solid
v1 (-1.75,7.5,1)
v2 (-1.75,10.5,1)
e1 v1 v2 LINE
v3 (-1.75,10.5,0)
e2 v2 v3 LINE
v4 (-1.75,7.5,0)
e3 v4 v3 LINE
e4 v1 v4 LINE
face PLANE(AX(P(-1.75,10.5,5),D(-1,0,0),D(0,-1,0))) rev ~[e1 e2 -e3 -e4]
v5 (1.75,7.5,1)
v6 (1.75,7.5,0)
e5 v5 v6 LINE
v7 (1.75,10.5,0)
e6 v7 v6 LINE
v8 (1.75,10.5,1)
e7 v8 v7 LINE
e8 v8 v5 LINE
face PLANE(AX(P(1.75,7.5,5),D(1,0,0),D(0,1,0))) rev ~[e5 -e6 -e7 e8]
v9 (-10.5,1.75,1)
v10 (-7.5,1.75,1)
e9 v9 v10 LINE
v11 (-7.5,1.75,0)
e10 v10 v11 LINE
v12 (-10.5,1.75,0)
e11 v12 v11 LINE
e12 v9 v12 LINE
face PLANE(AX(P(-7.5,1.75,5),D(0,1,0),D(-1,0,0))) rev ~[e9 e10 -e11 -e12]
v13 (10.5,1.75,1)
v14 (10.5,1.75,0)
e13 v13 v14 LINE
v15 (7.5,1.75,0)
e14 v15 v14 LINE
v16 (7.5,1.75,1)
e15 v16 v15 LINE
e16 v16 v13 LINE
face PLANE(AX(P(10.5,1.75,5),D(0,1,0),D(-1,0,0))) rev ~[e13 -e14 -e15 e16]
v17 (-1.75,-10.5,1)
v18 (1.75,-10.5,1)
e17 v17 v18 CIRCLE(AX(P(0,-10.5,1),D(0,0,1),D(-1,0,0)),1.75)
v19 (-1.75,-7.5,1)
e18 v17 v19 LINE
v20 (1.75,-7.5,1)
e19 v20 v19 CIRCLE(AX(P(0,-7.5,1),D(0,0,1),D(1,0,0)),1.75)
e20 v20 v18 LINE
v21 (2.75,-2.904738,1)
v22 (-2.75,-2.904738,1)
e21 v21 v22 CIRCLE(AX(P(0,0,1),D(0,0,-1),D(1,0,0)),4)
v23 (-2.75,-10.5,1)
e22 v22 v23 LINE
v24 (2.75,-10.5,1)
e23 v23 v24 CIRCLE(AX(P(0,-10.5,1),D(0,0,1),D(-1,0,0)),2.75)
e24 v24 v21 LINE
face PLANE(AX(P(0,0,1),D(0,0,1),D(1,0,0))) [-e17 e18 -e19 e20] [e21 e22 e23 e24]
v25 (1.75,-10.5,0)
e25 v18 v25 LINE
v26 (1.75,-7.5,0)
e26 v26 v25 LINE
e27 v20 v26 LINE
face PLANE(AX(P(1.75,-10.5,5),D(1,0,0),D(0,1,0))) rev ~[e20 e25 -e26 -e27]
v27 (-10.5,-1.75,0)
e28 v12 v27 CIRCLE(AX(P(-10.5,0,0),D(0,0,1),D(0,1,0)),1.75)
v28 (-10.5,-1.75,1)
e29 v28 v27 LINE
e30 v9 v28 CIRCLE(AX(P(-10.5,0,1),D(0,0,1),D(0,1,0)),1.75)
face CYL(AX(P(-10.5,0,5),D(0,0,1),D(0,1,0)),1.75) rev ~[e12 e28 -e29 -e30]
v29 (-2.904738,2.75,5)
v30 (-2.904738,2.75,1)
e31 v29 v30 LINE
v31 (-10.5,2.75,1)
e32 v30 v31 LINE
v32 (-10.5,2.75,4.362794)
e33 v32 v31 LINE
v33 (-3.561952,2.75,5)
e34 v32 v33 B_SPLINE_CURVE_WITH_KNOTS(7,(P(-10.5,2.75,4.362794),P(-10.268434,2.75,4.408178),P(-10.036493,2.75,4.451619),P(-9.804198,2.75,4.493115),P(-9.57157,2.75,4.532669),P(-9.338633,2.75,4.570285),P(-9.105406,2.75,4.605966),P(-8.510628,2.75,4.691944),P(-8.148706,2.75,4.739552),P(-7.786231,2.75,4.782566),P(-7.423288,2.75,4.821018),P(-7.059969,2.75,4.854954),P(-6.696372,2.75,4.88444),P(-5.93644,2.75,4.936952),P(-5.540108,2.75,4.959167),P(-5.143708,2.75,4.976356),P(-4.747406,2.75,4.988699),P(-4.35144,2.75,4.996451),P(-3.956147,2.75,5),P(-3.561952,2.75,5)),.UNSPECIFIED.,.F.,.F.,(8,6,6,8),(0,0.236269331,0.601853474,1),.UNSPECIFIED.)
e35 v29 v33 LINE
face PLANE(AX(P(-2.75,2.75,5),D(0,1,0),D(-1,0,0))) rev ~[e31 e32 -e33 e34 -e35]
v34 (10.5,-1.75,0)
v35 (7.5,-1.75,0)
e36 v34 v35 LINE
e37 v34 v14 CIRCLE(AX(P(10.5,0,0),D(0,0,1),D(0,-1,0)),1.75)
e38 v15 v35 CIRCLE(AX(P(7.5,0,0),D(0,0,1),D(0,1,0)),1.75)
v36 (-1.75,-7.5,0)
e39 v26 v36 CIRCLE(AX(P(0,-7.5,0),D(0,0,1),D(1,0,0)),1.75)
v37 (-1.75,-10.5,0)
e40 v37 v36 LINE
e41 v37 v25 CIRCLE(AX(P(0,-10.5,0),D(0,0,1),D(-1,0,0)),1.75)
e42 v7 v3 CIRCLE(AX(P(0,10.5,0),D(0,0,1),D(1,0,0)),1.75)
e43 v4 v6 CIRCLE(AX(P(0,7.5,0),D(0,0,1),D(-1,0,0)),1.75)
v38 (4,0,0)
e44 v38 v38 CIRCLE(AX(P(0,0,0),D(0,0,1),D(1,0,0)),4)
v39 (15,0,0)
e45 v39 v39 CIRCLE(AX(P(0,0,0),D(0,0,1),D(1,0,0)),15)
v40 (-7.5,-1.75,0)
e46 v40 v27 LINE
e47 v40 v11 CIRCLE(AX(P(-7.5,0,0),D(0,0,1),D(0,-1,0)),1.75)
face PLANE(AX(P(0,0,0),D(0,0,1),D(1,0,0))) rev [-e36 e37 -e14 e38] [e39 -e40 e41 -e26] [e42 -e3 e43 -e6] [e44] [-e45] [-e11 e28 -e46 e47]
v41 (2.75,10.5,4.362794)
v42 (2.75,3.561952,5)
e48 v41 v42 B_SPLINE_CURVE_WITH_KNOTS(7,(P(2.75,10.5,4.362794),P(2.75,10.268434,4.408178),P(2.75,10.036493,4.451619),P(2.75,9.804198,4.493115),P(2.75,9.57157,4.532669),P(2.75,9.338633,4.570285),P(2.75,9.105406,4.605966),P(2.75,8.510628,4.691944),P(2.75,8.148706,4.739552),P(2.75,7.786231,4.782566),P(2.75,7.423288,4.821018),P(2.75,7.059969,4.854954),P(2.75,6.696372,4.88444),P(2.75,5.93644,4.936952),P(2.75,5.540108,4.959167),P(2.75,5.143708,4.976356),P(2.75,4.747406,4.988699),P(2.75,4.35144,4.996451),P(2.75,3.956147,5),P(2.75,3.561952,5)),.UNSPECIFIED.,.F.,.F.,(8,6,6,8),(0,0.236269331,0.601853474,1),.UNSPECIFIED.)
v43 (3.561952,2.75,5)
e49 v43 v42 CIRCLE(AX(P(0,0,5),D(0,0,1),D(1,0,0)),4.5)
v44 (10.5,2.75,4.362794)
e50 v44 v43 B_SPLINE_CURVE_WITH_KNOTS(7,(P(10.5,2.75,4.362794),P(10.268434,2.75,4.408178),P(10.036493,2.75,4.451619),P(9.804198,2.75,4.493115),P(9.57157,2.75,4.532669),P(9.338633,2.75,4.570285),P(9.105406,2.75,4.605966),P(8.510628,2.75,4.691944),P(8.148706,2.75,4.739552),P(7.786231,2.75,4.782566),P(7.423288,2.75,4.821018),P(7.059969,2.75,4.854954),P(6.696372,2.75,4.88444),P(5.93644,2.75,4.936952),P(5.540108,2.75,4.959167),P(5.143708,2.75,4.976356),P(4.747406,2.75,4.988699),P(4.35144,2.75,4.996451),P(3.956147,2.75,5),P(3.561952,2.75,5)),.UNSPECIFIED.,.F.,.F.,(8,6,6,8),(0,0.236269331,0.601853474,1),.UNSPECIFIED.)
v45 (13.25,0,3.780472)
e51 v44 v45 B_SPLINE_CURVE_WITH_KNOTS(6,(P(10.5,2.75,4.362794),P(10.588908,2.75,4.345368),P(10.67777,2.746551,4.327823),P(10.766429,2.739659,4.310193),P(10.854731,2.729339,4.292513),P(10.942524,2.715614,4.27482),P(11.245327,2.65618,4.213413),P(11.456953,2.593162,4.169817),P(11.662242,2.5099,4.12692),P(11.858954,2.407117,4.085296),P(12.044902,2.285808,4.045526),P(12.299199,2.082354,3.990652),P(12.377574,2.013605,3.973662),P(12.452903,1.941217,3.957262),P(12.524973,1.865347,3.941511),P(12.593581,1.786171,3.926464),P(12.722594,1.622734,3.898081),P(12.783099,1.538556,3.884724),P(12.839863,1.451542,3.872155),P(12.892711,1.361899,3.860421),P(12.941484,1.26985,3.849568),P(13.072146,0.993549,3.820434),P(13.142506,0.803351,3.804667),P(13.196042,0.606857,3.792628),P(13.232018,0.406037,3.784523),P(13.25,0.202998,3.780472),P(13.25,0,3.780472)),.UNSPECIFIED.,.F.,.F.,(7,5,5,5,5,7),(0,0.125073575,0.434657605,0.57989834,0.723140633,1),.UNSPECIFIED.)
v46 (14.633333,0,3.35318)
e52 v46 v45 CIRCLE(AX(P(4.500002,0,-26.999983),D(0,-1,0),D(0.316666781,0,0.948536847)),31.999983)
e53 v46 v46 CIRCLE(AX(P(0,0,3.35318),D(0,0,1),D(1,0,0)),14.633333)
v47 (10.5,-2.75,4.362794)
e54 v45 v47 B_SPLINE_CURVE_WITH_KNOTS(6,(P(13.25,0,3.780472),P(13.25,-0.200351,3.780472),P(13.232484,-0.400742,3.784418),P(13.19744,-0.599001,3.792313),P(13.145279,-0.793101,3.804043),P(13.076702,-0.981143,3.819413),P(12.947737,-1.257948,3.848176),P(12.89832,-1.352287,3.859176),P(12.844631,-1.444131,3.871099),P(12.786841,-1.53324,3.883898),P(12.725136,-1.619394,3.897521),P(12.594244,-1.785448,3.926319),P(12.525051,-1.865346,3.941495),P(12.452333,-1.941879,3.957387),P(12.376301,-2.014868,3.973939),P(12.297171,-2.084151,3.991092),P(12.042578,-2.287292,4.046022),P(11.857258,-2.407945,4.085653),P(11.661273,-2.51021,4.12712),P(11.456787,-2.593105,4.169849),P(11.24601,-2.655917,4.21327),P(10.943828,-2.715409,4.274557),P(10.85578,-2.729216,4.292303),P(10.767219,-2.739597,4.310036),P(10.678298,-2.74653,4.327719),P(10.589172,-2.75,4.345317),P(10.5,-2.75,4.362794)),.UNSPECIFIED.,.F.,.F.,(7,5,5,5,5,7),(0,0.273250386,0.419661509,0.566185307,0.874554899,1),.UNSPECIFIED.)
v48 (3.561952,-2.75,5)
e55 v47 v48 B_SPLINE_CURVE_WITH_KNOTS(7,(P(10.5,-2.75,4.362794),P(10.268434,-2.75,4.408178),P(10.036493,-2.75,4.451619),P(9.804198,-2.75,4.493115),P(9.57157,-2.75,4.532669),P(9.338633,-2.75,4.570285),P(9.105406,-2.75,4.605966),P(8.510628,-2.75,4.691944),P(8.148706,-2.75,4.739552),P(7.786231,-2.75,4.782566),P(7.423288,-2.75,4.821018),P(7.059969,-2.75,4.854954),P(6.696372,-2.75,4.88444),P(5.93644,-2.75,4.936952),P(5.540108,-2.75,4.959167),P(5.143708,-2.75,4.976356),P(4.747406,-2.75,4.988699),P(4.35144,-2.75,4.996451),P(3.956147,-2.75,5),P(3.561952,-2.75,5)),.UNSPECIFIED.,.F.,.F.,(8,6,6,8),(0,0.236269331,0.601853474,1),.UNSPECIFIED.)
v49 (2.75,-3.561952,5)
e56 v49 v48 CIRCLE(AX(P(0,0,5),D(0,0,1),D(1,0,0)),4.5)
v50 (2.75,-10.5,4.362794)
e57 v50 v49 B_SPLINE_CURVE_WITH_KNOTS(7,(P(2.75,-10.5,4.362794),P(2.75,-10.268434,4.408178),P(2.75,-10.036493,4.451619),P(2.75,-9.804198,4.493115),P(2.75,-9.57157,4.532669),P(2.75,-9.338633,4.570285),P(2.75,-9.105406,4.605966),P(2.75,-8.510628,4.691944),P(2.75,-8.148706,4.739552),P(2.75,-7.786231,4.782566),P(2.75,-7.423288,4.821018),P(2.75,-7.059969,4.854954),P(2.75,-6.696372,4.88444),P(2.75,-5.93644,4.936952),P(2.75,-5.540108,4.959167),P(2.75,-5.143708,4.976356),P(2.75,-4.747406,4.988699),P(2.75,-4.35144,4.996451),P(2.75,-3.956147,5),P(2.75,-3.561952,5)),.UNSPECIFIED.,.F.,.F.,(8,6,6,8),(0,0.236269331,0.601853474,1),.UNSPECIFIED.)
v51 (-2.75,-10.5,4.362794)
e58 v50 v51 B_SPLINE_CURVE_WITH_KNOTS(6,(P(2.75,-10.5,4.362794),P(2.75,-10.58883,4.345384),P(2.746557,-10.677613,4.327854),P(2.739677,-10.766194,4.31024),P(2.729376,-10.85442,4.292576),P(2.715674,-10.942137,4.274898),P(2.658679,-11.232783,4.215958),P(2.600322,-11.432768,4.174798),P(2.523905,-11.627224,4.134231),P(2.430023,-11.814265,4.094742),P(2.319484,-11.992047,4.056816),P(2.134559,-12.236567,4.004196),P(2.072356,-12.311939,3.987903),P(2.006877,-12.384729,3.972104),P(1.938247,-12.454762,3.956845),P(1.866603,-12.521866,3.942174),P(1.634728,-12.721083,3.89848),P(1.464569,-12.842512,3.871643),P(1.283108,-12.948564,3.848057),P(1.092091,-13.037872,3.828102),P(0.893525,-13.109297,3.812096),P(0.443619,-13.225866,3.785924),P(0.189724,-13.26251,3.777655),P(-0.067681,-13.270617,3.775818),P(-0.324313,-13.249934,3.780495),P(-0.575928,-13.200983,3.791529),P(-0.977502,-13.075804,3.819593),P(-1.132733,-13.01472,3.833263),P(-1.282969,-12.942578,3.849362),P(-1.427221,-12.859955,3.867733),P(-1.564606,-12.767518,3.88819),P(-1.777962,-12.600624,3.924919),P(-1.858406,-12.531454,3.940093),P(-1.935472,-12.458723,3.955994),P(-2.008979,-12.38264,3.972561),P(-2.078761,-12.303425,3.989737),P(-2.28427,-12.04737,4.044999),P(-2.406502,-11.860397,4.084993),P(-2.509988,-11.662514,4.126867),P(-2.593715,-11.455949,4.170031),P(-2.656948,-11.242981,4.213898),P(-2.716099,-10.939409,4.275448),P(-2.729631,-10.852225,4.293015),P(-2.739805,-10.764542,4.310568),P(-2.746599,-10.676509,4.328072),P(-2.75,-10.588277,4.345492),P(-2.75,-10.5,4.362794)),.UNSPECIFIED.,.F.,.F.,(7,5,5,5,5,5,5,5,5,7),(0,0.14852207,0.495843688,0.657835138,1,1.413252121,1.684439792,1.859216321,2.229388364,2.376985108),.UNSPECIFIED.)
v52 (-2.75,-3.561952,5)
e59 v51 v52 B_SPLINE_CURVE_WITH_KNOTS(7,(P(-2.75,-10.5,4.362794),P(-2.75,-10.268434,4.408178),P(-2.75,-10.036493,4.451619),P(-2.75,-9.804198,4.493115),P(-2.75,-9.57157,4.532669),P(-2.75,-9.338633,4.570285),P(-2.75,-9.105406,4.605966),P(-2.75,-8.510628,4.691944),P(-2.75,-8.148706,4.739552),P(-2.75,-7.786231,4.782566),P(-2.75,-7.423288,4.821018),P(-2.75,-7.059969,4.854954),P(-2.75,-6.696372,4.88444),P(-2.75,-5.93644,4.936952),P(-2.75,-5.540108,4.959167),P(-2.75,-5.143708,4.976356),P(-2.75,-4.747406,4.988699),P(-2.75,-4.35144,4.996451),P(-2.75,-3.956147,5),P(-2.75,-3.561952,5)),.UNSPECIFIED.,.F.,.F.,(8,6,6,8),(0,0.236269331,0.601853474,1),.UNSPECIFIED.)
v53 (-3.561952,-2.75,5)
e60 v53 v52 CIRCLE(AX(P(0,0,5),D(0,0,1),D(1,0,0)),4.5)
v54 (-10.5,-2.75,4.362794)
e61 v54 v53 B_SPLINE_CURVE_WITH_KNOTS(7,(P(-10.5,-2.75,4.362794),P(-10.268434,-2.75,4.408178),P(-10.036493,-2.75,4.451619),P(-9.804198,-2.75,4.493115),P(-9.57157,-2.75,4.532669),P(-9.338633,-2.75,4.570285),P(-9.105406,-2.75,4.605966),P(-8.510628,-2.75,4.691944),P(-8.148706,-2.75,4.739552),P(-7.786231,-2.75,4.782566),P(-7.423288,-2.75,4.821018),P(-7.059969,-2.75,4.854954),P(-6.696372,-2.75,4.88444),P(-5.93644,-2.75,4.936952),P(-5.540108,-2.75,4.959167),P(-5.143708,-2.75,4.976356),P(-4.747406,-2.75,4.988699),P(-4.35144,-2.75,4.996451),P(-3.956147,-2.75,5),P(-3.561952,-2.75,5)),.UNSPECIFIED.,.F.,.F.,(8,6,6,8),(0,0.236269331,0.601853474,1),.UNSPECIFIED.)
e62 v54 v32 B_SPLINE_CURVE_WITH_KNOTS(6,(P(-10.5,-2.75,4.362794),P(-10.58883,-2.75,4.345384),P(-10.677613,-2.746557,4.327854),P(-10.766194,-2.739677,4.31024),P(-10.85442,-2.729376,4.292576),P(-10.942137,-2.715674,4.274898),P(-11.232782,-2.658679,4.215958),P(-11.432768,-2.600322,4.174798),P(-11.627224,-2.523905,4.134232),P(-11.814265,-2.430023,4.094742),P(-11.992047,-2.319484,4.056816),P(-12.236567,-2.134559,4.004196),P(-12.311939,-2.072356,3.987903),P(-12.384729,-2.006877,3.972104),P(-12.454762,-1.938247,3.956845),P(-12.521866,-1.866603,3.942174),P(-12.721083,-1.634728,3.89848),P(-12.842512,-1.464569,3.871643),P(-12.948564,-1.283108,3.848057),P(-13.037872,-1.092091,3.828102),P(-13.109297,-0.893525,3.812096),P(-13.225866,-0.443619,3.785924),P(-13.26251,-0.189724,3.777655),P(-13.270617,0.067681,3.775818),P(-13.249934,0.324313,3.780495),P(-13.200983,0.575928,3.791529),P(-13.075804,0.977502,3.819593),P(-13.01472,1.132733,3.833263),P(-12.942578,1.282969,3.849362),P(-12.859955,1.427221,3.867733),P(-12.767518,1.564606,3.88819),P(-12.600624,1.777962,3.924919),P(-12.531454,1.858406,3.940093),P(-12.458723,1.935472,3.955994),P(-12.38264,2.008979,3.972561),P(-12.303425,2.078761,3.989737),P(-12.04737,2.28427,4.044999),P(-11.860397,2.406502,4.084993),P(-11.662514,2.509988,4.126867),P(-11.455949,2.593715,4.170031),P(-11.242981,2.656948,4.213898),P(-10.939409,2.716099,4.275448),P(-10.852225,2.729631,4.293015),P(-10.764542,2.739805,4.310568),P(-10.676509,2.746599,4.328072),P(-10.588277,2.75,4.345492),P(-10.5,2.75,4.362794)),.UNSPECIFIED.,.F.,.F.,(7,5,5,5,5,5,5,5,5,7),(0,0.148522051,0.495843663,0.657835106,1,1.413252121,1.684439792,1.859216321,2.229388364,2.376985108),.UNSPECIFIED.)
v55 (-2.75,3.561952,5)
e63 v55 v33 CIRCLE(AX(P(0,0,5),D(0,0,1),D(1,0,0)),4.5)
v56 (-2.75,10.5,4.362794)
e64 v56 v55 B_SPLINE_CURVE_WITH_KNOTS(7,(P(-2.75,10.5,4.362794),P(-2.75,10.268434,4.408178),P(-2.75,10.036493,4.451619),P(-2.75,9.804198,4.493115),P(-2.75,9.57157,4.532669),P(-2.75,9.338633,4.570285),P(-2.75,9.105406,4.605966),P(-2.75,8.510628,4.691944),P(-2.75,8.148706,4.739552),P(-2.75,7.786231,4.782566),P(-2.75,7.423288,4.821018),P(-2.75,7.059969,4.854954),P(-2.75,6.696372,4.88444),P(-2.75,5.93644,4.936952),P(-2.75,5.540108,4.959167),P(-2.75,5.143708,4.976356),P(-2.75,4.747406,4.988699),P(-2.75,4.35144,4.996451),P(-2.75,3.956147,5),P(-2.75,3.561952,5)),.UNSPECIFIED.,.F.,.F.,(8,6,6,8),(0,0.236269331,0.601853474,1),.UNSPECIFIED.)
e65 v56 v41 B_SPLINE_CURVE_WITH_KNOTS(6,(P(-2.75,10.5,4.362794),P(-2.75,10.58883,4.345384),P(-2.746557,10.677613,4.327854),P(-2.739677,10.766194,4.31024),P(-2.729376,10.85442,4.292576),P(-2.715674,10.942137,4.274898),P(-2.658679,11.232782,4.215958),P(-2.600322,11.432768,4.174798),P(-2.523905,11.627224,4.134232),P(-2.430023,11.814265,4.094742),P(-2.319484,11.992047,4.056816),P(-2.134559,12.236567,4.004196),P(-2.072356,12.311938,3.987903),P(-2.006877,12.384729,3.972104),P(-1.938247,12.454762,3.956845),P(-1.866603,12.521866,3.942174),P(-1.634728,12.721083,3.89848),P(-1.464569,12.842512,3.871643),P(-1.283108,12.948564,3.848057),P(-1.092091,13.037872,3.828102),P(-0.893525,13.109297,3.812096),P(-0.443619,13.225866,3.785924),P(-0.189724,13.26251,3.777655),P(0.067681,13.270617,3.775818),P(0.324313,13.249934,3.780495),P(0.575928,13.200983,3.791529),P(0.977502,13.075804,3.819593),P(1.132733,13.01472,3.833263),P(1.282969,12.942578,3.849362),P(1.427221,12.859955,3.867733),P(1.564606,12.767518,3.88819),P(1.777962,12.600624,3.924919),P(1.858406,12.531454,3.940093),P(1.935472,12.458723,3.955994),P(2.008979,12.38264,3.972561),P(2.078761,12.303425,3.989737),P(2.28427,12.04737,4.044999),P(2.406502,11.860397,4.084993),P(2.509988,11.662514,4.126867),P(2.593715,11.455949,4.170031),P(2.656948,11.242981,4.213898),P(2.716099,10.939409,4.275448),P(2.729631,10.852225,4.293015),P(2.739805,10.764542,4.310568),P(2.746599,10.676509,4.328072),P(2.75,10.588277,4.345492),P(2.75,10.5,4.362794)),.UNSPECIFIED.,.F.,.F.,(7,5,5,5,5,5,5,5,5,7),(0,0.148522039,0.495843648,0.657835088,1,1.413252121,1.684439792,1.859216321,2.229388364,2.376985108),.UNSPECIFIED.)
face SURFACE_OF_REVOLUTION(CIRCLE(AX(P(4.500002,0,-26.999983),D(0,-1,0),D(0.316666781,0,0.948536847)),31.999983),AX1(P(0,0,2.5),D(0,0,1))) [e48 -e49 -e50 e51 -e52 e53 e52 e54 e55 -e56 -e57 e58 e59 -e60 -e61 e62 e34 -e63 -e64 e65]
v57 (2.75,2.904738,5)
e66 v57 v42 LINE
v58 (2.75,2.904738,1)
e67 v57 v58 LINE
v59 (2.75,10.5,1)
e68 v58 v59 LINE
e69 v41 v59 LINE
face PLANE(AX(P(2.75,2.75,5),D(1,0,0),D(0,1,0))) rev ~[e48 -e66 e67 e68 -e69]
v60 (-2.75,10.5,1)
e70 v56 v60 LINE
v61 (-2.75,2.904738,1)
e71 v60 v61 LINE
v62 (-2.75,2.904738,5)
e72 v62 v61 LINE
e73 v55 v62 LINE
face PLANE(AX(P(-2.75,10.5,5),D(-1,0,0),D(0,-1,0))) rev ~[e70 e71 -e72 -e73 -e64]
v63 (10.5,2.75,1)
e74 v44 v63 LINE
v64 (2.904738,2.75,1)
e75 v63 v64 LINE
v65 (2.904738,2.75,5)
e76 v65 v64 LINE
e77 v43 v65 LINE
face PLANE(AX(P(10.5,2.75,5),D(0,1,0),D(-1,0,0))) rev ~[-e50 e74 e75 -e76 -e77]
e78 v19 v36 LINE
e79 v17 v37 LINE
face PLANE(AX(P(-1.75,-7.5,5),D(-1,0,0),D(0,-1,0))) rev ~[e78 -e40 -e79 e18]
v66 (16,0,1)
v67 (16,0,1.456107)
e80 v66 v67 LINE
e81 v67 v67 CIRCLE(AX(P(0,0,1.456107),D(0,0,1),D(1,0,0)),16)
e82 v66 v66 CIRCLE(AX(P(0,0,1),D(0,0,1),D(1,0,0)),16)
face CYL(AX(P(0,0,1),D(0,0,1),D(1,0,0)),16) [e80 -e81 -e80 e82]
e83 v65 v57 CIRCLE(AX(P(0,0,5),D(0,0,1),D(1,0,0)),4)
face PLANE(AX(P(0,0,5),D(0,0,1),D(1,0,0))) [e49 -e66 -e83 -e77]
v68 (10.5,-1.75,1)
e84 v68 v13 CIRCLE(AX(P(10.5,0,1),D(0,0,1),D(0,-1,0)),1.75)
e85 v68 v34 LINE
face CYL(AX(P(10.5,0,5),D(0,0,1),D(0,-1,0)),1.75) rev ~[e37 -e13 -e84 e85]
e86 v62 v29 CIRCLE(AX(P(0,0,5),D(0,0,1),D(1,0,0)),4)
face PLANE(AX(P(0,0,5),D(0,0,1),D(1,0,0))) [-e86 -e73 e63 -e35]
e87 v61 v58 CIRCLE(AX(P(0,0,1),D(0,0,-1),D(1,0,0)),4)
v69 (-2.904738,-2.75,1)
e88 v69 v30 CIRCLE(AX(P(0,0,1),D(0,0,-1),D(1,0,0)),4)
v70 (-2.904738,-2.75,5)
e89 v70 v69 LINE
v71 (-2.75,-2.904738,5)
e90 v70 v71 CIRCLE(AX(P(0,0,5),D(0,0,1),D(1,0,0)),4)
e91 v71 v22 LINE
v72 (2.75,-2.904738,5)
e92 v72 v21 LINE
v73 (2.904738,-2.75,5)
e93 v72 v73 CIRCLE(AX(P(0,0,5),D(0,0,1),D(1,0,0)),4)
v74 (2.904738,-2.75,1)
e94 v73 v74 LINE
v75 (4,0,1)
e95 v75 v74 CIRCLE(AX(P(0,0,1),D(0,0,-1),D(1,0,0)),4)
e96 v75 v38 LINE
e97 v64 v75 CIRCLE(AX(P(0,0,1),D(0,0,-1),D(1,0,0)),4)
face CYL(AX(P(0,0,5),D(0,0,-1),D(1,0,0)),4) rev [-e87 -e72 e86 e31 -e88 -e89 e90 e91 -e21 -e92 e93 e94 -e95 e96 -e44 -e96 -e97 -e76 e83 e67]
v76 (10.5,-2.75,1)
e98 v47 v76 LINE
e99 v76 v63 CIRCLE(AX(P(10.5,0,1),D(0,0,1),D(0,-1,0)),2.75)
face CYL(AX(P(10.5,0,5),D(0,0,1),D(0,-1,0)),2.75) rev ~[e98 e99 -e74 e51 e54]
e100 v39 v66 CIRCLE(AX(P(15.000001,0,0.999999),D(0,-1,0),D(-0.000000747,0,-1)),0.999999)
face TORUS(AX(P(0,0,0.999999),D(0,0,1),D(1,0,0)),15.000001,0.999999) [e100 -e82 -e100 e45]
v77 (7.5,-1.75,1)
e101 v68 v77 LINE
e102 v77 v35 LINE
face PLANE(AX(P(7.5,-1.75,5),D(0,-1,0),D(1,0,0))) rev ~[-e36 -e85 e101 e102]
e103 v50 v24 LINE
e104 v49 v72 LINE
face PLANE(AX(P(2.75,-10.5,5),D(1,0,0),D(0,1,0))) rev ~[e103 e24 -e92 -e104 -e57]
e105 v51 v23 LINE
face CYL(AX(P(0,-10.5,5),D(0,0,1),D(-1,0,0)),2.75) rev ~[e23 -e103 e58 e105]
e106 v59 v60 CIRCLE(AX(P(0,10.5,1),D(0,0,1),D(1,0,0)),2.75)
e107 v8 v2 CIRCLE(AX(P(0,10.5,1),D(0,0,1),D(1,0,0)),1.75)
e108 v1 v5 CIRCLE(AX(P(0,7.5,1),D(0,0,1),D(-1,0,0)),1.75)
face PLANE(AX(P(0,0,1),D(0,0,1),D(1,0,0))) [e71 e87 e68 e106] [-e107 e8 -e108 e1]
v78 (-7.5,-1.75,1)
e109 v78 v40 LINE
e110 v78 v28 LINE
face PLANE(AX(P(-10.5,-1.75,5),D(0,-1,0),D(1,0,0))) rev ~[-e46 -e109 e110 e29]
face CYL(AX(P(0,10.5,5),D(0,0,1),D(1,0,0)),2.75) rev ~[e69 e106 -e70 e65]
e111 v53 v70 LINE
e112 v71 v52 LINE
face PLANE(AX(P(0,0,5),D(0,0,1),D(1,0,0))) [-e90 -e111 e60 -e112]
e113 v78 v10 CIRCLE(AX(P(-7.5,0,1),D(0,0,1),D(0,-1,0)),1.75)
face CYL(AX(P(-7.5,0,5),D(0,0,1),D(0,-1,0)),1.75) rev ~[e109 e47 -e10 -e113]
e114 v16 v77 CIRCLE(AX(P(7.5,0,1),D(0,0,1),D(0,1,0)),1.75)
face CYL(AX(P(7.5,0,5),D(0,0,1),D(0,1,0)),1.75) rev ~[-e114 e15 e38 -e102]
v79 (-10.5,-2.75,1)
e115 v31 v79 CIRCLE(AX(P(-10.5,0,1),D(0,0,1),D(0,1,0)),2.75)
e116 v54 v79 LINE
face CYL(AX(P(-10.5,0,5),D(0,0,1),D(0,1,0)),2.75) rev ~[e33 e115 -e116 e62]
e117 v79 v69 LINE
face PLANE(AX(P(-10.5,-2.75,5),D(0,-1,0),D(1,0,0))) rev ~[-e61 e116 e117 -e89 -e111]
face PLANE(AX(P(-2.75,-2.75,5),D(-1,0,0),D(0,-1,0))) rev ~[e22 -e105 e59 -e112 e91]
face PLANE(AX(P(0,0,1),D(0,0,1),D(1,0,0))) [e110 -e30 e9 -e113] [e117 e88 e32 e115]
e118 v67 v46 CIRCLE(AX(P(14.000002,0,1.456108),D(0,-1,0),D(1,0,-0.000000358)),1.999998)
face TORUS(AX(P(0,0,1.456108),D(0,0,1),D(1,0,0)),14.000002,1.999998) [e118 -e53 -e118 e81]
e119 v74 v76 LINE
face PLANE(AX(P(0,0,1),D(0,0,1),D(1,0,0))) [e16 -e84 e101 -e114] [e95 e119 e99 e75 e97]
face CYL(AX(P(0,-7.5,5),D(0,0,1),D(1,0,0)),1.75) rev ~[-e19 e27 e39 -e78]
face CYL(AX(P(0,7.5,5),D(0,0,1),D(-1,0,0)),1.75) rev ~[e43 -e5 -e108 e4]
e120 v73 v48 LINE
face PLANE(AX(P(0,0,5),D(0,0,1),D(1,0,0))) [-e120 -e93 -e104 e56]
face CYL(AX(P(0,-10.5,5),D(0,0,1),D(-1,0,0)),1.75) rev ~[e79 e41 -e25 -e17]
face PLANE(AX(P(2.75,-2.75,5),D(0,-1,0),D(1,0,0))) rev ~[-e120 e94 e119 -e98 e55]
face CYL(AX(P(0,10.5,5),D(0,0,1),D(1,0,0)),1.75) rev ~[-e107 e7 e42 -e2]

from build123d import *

# Parameters (mm, degrees)
F3_DEPTH = 25
F5_DEPTH = 4


with BuildPart() as f1:
    # F0 (on Front) → F1 (revolve)
    with BuildSketch(Plane.XZ):
        with BuildLine():
            Line((4, 5), (4, 0))
            Line((4, 0), (15, 0))
            ThreePointArc((15, 0), (15.707107, 0.292893), (16, 1))
            Line((16, 1), (16, 1.456107))
            ThreePointArc((16, 1.456107), (15.622755, 2.625152), (14.633333, 3.35318))
            ThreePointArc((14.633333, 3.35318), (9.633139, 4.585612), (4.5, 5))
            Line((4.5, 5), (4, 5))
        make_face()
    revolve(axis=Axis((0, 0, 2.5), (0, 0, 1)))

    # F2 (on face) → F3 (cut)
    with BuildSketch(Plane.XY.offset(5)):
        with BuildLine():
            ThreePointArc((1.75, 10.5), (0, 12.25), (-1.75, 10.5))
            Line((-1.75, 10.5), (-1.75, 7.5))
            ThreePointArc((-1.75, 7.5), (0, 5.75), (1.75, 7.5))
            Line((1.75, 7.5), (1.75, 10.5))
        make_face()
        with BuildLine():
            Line((-7.5, 1.75), (-10.5, 1.75))
            ThreePointArc((-10.5, 1.75), (-12.25, 0), (-10.5, -1.75))
            Line((-10.5, -1.75), (-7.5, -1.75))
            ThreePointArc((-7.5, -1.75), (-5.75, 0), (-7.5, 1.75))
        make_face()
        with BuildLine():
            Line((-1.75, -7.5), (-1.75, -10.5))
            ThreePointArc((-1.75, -10.5), (0, -12.25), (1.75, -10.5))
            Line((1.75, -10.5), (1.75, -7.5))
            ThreePointArc((1.75, -7.5), (0, -5.75), (-1.75, -7.5))
        make_face()
        with BuildLine():
            Line((7.5, -1.75), (10.5, -1.75))
            ThreePointArc((10.5, -1.75), (12.25, 0), (10.5, 1.75))
            Line((10.5, 1.75), (7.5, 1.75))
            ThreePointArc((7.5, 1.75), (5.75, 0), (7.5, -1.75))
        make_face()
    extrude(amount=-F3_DEPTH, mode=Mode.SUBTRACT)

    # F4 (on face) → F5 (cut)
    with BuildSketch(Plane.XY.offset(5)):
        with BuildLine():
            Line((2.75, 2.75), (2.75, 10.5))
            ThreePointArc((2.75, 10.5), (0, 13.25), (-2.75, 10.5))
            Line((-2.75, 10.5), (-2.75, 2.75))
            Line((-2.75, 2.75), (-10.5, 2.75))
            ThreePointArc((-10.5, 2.75), (-13.25, 0), (-10.5, -2.75))
            Line((-10.5, -2.75), (-2.75, -2.75))
            Line((-2.75, -2.75), (-2.75, -10.5))
            ThreePointArc((-2.75, -10.5), (0, -13.25), (2.75, -10.5))
            Line((2.75, -10.5), (2.75, -2.75))
            Line((2.75, -2.75), (10.5, -2.75))
            ThreePointArc((10.5, -2.75), (13.25, 0), (10.5, 2.75))
            Line((10.5, 2.75), (2.75, 2.75))
        make_face()
    extrude(amount=-F5_DEPTH, mode=Mode.SUBTRACT)


solid = f1.part
